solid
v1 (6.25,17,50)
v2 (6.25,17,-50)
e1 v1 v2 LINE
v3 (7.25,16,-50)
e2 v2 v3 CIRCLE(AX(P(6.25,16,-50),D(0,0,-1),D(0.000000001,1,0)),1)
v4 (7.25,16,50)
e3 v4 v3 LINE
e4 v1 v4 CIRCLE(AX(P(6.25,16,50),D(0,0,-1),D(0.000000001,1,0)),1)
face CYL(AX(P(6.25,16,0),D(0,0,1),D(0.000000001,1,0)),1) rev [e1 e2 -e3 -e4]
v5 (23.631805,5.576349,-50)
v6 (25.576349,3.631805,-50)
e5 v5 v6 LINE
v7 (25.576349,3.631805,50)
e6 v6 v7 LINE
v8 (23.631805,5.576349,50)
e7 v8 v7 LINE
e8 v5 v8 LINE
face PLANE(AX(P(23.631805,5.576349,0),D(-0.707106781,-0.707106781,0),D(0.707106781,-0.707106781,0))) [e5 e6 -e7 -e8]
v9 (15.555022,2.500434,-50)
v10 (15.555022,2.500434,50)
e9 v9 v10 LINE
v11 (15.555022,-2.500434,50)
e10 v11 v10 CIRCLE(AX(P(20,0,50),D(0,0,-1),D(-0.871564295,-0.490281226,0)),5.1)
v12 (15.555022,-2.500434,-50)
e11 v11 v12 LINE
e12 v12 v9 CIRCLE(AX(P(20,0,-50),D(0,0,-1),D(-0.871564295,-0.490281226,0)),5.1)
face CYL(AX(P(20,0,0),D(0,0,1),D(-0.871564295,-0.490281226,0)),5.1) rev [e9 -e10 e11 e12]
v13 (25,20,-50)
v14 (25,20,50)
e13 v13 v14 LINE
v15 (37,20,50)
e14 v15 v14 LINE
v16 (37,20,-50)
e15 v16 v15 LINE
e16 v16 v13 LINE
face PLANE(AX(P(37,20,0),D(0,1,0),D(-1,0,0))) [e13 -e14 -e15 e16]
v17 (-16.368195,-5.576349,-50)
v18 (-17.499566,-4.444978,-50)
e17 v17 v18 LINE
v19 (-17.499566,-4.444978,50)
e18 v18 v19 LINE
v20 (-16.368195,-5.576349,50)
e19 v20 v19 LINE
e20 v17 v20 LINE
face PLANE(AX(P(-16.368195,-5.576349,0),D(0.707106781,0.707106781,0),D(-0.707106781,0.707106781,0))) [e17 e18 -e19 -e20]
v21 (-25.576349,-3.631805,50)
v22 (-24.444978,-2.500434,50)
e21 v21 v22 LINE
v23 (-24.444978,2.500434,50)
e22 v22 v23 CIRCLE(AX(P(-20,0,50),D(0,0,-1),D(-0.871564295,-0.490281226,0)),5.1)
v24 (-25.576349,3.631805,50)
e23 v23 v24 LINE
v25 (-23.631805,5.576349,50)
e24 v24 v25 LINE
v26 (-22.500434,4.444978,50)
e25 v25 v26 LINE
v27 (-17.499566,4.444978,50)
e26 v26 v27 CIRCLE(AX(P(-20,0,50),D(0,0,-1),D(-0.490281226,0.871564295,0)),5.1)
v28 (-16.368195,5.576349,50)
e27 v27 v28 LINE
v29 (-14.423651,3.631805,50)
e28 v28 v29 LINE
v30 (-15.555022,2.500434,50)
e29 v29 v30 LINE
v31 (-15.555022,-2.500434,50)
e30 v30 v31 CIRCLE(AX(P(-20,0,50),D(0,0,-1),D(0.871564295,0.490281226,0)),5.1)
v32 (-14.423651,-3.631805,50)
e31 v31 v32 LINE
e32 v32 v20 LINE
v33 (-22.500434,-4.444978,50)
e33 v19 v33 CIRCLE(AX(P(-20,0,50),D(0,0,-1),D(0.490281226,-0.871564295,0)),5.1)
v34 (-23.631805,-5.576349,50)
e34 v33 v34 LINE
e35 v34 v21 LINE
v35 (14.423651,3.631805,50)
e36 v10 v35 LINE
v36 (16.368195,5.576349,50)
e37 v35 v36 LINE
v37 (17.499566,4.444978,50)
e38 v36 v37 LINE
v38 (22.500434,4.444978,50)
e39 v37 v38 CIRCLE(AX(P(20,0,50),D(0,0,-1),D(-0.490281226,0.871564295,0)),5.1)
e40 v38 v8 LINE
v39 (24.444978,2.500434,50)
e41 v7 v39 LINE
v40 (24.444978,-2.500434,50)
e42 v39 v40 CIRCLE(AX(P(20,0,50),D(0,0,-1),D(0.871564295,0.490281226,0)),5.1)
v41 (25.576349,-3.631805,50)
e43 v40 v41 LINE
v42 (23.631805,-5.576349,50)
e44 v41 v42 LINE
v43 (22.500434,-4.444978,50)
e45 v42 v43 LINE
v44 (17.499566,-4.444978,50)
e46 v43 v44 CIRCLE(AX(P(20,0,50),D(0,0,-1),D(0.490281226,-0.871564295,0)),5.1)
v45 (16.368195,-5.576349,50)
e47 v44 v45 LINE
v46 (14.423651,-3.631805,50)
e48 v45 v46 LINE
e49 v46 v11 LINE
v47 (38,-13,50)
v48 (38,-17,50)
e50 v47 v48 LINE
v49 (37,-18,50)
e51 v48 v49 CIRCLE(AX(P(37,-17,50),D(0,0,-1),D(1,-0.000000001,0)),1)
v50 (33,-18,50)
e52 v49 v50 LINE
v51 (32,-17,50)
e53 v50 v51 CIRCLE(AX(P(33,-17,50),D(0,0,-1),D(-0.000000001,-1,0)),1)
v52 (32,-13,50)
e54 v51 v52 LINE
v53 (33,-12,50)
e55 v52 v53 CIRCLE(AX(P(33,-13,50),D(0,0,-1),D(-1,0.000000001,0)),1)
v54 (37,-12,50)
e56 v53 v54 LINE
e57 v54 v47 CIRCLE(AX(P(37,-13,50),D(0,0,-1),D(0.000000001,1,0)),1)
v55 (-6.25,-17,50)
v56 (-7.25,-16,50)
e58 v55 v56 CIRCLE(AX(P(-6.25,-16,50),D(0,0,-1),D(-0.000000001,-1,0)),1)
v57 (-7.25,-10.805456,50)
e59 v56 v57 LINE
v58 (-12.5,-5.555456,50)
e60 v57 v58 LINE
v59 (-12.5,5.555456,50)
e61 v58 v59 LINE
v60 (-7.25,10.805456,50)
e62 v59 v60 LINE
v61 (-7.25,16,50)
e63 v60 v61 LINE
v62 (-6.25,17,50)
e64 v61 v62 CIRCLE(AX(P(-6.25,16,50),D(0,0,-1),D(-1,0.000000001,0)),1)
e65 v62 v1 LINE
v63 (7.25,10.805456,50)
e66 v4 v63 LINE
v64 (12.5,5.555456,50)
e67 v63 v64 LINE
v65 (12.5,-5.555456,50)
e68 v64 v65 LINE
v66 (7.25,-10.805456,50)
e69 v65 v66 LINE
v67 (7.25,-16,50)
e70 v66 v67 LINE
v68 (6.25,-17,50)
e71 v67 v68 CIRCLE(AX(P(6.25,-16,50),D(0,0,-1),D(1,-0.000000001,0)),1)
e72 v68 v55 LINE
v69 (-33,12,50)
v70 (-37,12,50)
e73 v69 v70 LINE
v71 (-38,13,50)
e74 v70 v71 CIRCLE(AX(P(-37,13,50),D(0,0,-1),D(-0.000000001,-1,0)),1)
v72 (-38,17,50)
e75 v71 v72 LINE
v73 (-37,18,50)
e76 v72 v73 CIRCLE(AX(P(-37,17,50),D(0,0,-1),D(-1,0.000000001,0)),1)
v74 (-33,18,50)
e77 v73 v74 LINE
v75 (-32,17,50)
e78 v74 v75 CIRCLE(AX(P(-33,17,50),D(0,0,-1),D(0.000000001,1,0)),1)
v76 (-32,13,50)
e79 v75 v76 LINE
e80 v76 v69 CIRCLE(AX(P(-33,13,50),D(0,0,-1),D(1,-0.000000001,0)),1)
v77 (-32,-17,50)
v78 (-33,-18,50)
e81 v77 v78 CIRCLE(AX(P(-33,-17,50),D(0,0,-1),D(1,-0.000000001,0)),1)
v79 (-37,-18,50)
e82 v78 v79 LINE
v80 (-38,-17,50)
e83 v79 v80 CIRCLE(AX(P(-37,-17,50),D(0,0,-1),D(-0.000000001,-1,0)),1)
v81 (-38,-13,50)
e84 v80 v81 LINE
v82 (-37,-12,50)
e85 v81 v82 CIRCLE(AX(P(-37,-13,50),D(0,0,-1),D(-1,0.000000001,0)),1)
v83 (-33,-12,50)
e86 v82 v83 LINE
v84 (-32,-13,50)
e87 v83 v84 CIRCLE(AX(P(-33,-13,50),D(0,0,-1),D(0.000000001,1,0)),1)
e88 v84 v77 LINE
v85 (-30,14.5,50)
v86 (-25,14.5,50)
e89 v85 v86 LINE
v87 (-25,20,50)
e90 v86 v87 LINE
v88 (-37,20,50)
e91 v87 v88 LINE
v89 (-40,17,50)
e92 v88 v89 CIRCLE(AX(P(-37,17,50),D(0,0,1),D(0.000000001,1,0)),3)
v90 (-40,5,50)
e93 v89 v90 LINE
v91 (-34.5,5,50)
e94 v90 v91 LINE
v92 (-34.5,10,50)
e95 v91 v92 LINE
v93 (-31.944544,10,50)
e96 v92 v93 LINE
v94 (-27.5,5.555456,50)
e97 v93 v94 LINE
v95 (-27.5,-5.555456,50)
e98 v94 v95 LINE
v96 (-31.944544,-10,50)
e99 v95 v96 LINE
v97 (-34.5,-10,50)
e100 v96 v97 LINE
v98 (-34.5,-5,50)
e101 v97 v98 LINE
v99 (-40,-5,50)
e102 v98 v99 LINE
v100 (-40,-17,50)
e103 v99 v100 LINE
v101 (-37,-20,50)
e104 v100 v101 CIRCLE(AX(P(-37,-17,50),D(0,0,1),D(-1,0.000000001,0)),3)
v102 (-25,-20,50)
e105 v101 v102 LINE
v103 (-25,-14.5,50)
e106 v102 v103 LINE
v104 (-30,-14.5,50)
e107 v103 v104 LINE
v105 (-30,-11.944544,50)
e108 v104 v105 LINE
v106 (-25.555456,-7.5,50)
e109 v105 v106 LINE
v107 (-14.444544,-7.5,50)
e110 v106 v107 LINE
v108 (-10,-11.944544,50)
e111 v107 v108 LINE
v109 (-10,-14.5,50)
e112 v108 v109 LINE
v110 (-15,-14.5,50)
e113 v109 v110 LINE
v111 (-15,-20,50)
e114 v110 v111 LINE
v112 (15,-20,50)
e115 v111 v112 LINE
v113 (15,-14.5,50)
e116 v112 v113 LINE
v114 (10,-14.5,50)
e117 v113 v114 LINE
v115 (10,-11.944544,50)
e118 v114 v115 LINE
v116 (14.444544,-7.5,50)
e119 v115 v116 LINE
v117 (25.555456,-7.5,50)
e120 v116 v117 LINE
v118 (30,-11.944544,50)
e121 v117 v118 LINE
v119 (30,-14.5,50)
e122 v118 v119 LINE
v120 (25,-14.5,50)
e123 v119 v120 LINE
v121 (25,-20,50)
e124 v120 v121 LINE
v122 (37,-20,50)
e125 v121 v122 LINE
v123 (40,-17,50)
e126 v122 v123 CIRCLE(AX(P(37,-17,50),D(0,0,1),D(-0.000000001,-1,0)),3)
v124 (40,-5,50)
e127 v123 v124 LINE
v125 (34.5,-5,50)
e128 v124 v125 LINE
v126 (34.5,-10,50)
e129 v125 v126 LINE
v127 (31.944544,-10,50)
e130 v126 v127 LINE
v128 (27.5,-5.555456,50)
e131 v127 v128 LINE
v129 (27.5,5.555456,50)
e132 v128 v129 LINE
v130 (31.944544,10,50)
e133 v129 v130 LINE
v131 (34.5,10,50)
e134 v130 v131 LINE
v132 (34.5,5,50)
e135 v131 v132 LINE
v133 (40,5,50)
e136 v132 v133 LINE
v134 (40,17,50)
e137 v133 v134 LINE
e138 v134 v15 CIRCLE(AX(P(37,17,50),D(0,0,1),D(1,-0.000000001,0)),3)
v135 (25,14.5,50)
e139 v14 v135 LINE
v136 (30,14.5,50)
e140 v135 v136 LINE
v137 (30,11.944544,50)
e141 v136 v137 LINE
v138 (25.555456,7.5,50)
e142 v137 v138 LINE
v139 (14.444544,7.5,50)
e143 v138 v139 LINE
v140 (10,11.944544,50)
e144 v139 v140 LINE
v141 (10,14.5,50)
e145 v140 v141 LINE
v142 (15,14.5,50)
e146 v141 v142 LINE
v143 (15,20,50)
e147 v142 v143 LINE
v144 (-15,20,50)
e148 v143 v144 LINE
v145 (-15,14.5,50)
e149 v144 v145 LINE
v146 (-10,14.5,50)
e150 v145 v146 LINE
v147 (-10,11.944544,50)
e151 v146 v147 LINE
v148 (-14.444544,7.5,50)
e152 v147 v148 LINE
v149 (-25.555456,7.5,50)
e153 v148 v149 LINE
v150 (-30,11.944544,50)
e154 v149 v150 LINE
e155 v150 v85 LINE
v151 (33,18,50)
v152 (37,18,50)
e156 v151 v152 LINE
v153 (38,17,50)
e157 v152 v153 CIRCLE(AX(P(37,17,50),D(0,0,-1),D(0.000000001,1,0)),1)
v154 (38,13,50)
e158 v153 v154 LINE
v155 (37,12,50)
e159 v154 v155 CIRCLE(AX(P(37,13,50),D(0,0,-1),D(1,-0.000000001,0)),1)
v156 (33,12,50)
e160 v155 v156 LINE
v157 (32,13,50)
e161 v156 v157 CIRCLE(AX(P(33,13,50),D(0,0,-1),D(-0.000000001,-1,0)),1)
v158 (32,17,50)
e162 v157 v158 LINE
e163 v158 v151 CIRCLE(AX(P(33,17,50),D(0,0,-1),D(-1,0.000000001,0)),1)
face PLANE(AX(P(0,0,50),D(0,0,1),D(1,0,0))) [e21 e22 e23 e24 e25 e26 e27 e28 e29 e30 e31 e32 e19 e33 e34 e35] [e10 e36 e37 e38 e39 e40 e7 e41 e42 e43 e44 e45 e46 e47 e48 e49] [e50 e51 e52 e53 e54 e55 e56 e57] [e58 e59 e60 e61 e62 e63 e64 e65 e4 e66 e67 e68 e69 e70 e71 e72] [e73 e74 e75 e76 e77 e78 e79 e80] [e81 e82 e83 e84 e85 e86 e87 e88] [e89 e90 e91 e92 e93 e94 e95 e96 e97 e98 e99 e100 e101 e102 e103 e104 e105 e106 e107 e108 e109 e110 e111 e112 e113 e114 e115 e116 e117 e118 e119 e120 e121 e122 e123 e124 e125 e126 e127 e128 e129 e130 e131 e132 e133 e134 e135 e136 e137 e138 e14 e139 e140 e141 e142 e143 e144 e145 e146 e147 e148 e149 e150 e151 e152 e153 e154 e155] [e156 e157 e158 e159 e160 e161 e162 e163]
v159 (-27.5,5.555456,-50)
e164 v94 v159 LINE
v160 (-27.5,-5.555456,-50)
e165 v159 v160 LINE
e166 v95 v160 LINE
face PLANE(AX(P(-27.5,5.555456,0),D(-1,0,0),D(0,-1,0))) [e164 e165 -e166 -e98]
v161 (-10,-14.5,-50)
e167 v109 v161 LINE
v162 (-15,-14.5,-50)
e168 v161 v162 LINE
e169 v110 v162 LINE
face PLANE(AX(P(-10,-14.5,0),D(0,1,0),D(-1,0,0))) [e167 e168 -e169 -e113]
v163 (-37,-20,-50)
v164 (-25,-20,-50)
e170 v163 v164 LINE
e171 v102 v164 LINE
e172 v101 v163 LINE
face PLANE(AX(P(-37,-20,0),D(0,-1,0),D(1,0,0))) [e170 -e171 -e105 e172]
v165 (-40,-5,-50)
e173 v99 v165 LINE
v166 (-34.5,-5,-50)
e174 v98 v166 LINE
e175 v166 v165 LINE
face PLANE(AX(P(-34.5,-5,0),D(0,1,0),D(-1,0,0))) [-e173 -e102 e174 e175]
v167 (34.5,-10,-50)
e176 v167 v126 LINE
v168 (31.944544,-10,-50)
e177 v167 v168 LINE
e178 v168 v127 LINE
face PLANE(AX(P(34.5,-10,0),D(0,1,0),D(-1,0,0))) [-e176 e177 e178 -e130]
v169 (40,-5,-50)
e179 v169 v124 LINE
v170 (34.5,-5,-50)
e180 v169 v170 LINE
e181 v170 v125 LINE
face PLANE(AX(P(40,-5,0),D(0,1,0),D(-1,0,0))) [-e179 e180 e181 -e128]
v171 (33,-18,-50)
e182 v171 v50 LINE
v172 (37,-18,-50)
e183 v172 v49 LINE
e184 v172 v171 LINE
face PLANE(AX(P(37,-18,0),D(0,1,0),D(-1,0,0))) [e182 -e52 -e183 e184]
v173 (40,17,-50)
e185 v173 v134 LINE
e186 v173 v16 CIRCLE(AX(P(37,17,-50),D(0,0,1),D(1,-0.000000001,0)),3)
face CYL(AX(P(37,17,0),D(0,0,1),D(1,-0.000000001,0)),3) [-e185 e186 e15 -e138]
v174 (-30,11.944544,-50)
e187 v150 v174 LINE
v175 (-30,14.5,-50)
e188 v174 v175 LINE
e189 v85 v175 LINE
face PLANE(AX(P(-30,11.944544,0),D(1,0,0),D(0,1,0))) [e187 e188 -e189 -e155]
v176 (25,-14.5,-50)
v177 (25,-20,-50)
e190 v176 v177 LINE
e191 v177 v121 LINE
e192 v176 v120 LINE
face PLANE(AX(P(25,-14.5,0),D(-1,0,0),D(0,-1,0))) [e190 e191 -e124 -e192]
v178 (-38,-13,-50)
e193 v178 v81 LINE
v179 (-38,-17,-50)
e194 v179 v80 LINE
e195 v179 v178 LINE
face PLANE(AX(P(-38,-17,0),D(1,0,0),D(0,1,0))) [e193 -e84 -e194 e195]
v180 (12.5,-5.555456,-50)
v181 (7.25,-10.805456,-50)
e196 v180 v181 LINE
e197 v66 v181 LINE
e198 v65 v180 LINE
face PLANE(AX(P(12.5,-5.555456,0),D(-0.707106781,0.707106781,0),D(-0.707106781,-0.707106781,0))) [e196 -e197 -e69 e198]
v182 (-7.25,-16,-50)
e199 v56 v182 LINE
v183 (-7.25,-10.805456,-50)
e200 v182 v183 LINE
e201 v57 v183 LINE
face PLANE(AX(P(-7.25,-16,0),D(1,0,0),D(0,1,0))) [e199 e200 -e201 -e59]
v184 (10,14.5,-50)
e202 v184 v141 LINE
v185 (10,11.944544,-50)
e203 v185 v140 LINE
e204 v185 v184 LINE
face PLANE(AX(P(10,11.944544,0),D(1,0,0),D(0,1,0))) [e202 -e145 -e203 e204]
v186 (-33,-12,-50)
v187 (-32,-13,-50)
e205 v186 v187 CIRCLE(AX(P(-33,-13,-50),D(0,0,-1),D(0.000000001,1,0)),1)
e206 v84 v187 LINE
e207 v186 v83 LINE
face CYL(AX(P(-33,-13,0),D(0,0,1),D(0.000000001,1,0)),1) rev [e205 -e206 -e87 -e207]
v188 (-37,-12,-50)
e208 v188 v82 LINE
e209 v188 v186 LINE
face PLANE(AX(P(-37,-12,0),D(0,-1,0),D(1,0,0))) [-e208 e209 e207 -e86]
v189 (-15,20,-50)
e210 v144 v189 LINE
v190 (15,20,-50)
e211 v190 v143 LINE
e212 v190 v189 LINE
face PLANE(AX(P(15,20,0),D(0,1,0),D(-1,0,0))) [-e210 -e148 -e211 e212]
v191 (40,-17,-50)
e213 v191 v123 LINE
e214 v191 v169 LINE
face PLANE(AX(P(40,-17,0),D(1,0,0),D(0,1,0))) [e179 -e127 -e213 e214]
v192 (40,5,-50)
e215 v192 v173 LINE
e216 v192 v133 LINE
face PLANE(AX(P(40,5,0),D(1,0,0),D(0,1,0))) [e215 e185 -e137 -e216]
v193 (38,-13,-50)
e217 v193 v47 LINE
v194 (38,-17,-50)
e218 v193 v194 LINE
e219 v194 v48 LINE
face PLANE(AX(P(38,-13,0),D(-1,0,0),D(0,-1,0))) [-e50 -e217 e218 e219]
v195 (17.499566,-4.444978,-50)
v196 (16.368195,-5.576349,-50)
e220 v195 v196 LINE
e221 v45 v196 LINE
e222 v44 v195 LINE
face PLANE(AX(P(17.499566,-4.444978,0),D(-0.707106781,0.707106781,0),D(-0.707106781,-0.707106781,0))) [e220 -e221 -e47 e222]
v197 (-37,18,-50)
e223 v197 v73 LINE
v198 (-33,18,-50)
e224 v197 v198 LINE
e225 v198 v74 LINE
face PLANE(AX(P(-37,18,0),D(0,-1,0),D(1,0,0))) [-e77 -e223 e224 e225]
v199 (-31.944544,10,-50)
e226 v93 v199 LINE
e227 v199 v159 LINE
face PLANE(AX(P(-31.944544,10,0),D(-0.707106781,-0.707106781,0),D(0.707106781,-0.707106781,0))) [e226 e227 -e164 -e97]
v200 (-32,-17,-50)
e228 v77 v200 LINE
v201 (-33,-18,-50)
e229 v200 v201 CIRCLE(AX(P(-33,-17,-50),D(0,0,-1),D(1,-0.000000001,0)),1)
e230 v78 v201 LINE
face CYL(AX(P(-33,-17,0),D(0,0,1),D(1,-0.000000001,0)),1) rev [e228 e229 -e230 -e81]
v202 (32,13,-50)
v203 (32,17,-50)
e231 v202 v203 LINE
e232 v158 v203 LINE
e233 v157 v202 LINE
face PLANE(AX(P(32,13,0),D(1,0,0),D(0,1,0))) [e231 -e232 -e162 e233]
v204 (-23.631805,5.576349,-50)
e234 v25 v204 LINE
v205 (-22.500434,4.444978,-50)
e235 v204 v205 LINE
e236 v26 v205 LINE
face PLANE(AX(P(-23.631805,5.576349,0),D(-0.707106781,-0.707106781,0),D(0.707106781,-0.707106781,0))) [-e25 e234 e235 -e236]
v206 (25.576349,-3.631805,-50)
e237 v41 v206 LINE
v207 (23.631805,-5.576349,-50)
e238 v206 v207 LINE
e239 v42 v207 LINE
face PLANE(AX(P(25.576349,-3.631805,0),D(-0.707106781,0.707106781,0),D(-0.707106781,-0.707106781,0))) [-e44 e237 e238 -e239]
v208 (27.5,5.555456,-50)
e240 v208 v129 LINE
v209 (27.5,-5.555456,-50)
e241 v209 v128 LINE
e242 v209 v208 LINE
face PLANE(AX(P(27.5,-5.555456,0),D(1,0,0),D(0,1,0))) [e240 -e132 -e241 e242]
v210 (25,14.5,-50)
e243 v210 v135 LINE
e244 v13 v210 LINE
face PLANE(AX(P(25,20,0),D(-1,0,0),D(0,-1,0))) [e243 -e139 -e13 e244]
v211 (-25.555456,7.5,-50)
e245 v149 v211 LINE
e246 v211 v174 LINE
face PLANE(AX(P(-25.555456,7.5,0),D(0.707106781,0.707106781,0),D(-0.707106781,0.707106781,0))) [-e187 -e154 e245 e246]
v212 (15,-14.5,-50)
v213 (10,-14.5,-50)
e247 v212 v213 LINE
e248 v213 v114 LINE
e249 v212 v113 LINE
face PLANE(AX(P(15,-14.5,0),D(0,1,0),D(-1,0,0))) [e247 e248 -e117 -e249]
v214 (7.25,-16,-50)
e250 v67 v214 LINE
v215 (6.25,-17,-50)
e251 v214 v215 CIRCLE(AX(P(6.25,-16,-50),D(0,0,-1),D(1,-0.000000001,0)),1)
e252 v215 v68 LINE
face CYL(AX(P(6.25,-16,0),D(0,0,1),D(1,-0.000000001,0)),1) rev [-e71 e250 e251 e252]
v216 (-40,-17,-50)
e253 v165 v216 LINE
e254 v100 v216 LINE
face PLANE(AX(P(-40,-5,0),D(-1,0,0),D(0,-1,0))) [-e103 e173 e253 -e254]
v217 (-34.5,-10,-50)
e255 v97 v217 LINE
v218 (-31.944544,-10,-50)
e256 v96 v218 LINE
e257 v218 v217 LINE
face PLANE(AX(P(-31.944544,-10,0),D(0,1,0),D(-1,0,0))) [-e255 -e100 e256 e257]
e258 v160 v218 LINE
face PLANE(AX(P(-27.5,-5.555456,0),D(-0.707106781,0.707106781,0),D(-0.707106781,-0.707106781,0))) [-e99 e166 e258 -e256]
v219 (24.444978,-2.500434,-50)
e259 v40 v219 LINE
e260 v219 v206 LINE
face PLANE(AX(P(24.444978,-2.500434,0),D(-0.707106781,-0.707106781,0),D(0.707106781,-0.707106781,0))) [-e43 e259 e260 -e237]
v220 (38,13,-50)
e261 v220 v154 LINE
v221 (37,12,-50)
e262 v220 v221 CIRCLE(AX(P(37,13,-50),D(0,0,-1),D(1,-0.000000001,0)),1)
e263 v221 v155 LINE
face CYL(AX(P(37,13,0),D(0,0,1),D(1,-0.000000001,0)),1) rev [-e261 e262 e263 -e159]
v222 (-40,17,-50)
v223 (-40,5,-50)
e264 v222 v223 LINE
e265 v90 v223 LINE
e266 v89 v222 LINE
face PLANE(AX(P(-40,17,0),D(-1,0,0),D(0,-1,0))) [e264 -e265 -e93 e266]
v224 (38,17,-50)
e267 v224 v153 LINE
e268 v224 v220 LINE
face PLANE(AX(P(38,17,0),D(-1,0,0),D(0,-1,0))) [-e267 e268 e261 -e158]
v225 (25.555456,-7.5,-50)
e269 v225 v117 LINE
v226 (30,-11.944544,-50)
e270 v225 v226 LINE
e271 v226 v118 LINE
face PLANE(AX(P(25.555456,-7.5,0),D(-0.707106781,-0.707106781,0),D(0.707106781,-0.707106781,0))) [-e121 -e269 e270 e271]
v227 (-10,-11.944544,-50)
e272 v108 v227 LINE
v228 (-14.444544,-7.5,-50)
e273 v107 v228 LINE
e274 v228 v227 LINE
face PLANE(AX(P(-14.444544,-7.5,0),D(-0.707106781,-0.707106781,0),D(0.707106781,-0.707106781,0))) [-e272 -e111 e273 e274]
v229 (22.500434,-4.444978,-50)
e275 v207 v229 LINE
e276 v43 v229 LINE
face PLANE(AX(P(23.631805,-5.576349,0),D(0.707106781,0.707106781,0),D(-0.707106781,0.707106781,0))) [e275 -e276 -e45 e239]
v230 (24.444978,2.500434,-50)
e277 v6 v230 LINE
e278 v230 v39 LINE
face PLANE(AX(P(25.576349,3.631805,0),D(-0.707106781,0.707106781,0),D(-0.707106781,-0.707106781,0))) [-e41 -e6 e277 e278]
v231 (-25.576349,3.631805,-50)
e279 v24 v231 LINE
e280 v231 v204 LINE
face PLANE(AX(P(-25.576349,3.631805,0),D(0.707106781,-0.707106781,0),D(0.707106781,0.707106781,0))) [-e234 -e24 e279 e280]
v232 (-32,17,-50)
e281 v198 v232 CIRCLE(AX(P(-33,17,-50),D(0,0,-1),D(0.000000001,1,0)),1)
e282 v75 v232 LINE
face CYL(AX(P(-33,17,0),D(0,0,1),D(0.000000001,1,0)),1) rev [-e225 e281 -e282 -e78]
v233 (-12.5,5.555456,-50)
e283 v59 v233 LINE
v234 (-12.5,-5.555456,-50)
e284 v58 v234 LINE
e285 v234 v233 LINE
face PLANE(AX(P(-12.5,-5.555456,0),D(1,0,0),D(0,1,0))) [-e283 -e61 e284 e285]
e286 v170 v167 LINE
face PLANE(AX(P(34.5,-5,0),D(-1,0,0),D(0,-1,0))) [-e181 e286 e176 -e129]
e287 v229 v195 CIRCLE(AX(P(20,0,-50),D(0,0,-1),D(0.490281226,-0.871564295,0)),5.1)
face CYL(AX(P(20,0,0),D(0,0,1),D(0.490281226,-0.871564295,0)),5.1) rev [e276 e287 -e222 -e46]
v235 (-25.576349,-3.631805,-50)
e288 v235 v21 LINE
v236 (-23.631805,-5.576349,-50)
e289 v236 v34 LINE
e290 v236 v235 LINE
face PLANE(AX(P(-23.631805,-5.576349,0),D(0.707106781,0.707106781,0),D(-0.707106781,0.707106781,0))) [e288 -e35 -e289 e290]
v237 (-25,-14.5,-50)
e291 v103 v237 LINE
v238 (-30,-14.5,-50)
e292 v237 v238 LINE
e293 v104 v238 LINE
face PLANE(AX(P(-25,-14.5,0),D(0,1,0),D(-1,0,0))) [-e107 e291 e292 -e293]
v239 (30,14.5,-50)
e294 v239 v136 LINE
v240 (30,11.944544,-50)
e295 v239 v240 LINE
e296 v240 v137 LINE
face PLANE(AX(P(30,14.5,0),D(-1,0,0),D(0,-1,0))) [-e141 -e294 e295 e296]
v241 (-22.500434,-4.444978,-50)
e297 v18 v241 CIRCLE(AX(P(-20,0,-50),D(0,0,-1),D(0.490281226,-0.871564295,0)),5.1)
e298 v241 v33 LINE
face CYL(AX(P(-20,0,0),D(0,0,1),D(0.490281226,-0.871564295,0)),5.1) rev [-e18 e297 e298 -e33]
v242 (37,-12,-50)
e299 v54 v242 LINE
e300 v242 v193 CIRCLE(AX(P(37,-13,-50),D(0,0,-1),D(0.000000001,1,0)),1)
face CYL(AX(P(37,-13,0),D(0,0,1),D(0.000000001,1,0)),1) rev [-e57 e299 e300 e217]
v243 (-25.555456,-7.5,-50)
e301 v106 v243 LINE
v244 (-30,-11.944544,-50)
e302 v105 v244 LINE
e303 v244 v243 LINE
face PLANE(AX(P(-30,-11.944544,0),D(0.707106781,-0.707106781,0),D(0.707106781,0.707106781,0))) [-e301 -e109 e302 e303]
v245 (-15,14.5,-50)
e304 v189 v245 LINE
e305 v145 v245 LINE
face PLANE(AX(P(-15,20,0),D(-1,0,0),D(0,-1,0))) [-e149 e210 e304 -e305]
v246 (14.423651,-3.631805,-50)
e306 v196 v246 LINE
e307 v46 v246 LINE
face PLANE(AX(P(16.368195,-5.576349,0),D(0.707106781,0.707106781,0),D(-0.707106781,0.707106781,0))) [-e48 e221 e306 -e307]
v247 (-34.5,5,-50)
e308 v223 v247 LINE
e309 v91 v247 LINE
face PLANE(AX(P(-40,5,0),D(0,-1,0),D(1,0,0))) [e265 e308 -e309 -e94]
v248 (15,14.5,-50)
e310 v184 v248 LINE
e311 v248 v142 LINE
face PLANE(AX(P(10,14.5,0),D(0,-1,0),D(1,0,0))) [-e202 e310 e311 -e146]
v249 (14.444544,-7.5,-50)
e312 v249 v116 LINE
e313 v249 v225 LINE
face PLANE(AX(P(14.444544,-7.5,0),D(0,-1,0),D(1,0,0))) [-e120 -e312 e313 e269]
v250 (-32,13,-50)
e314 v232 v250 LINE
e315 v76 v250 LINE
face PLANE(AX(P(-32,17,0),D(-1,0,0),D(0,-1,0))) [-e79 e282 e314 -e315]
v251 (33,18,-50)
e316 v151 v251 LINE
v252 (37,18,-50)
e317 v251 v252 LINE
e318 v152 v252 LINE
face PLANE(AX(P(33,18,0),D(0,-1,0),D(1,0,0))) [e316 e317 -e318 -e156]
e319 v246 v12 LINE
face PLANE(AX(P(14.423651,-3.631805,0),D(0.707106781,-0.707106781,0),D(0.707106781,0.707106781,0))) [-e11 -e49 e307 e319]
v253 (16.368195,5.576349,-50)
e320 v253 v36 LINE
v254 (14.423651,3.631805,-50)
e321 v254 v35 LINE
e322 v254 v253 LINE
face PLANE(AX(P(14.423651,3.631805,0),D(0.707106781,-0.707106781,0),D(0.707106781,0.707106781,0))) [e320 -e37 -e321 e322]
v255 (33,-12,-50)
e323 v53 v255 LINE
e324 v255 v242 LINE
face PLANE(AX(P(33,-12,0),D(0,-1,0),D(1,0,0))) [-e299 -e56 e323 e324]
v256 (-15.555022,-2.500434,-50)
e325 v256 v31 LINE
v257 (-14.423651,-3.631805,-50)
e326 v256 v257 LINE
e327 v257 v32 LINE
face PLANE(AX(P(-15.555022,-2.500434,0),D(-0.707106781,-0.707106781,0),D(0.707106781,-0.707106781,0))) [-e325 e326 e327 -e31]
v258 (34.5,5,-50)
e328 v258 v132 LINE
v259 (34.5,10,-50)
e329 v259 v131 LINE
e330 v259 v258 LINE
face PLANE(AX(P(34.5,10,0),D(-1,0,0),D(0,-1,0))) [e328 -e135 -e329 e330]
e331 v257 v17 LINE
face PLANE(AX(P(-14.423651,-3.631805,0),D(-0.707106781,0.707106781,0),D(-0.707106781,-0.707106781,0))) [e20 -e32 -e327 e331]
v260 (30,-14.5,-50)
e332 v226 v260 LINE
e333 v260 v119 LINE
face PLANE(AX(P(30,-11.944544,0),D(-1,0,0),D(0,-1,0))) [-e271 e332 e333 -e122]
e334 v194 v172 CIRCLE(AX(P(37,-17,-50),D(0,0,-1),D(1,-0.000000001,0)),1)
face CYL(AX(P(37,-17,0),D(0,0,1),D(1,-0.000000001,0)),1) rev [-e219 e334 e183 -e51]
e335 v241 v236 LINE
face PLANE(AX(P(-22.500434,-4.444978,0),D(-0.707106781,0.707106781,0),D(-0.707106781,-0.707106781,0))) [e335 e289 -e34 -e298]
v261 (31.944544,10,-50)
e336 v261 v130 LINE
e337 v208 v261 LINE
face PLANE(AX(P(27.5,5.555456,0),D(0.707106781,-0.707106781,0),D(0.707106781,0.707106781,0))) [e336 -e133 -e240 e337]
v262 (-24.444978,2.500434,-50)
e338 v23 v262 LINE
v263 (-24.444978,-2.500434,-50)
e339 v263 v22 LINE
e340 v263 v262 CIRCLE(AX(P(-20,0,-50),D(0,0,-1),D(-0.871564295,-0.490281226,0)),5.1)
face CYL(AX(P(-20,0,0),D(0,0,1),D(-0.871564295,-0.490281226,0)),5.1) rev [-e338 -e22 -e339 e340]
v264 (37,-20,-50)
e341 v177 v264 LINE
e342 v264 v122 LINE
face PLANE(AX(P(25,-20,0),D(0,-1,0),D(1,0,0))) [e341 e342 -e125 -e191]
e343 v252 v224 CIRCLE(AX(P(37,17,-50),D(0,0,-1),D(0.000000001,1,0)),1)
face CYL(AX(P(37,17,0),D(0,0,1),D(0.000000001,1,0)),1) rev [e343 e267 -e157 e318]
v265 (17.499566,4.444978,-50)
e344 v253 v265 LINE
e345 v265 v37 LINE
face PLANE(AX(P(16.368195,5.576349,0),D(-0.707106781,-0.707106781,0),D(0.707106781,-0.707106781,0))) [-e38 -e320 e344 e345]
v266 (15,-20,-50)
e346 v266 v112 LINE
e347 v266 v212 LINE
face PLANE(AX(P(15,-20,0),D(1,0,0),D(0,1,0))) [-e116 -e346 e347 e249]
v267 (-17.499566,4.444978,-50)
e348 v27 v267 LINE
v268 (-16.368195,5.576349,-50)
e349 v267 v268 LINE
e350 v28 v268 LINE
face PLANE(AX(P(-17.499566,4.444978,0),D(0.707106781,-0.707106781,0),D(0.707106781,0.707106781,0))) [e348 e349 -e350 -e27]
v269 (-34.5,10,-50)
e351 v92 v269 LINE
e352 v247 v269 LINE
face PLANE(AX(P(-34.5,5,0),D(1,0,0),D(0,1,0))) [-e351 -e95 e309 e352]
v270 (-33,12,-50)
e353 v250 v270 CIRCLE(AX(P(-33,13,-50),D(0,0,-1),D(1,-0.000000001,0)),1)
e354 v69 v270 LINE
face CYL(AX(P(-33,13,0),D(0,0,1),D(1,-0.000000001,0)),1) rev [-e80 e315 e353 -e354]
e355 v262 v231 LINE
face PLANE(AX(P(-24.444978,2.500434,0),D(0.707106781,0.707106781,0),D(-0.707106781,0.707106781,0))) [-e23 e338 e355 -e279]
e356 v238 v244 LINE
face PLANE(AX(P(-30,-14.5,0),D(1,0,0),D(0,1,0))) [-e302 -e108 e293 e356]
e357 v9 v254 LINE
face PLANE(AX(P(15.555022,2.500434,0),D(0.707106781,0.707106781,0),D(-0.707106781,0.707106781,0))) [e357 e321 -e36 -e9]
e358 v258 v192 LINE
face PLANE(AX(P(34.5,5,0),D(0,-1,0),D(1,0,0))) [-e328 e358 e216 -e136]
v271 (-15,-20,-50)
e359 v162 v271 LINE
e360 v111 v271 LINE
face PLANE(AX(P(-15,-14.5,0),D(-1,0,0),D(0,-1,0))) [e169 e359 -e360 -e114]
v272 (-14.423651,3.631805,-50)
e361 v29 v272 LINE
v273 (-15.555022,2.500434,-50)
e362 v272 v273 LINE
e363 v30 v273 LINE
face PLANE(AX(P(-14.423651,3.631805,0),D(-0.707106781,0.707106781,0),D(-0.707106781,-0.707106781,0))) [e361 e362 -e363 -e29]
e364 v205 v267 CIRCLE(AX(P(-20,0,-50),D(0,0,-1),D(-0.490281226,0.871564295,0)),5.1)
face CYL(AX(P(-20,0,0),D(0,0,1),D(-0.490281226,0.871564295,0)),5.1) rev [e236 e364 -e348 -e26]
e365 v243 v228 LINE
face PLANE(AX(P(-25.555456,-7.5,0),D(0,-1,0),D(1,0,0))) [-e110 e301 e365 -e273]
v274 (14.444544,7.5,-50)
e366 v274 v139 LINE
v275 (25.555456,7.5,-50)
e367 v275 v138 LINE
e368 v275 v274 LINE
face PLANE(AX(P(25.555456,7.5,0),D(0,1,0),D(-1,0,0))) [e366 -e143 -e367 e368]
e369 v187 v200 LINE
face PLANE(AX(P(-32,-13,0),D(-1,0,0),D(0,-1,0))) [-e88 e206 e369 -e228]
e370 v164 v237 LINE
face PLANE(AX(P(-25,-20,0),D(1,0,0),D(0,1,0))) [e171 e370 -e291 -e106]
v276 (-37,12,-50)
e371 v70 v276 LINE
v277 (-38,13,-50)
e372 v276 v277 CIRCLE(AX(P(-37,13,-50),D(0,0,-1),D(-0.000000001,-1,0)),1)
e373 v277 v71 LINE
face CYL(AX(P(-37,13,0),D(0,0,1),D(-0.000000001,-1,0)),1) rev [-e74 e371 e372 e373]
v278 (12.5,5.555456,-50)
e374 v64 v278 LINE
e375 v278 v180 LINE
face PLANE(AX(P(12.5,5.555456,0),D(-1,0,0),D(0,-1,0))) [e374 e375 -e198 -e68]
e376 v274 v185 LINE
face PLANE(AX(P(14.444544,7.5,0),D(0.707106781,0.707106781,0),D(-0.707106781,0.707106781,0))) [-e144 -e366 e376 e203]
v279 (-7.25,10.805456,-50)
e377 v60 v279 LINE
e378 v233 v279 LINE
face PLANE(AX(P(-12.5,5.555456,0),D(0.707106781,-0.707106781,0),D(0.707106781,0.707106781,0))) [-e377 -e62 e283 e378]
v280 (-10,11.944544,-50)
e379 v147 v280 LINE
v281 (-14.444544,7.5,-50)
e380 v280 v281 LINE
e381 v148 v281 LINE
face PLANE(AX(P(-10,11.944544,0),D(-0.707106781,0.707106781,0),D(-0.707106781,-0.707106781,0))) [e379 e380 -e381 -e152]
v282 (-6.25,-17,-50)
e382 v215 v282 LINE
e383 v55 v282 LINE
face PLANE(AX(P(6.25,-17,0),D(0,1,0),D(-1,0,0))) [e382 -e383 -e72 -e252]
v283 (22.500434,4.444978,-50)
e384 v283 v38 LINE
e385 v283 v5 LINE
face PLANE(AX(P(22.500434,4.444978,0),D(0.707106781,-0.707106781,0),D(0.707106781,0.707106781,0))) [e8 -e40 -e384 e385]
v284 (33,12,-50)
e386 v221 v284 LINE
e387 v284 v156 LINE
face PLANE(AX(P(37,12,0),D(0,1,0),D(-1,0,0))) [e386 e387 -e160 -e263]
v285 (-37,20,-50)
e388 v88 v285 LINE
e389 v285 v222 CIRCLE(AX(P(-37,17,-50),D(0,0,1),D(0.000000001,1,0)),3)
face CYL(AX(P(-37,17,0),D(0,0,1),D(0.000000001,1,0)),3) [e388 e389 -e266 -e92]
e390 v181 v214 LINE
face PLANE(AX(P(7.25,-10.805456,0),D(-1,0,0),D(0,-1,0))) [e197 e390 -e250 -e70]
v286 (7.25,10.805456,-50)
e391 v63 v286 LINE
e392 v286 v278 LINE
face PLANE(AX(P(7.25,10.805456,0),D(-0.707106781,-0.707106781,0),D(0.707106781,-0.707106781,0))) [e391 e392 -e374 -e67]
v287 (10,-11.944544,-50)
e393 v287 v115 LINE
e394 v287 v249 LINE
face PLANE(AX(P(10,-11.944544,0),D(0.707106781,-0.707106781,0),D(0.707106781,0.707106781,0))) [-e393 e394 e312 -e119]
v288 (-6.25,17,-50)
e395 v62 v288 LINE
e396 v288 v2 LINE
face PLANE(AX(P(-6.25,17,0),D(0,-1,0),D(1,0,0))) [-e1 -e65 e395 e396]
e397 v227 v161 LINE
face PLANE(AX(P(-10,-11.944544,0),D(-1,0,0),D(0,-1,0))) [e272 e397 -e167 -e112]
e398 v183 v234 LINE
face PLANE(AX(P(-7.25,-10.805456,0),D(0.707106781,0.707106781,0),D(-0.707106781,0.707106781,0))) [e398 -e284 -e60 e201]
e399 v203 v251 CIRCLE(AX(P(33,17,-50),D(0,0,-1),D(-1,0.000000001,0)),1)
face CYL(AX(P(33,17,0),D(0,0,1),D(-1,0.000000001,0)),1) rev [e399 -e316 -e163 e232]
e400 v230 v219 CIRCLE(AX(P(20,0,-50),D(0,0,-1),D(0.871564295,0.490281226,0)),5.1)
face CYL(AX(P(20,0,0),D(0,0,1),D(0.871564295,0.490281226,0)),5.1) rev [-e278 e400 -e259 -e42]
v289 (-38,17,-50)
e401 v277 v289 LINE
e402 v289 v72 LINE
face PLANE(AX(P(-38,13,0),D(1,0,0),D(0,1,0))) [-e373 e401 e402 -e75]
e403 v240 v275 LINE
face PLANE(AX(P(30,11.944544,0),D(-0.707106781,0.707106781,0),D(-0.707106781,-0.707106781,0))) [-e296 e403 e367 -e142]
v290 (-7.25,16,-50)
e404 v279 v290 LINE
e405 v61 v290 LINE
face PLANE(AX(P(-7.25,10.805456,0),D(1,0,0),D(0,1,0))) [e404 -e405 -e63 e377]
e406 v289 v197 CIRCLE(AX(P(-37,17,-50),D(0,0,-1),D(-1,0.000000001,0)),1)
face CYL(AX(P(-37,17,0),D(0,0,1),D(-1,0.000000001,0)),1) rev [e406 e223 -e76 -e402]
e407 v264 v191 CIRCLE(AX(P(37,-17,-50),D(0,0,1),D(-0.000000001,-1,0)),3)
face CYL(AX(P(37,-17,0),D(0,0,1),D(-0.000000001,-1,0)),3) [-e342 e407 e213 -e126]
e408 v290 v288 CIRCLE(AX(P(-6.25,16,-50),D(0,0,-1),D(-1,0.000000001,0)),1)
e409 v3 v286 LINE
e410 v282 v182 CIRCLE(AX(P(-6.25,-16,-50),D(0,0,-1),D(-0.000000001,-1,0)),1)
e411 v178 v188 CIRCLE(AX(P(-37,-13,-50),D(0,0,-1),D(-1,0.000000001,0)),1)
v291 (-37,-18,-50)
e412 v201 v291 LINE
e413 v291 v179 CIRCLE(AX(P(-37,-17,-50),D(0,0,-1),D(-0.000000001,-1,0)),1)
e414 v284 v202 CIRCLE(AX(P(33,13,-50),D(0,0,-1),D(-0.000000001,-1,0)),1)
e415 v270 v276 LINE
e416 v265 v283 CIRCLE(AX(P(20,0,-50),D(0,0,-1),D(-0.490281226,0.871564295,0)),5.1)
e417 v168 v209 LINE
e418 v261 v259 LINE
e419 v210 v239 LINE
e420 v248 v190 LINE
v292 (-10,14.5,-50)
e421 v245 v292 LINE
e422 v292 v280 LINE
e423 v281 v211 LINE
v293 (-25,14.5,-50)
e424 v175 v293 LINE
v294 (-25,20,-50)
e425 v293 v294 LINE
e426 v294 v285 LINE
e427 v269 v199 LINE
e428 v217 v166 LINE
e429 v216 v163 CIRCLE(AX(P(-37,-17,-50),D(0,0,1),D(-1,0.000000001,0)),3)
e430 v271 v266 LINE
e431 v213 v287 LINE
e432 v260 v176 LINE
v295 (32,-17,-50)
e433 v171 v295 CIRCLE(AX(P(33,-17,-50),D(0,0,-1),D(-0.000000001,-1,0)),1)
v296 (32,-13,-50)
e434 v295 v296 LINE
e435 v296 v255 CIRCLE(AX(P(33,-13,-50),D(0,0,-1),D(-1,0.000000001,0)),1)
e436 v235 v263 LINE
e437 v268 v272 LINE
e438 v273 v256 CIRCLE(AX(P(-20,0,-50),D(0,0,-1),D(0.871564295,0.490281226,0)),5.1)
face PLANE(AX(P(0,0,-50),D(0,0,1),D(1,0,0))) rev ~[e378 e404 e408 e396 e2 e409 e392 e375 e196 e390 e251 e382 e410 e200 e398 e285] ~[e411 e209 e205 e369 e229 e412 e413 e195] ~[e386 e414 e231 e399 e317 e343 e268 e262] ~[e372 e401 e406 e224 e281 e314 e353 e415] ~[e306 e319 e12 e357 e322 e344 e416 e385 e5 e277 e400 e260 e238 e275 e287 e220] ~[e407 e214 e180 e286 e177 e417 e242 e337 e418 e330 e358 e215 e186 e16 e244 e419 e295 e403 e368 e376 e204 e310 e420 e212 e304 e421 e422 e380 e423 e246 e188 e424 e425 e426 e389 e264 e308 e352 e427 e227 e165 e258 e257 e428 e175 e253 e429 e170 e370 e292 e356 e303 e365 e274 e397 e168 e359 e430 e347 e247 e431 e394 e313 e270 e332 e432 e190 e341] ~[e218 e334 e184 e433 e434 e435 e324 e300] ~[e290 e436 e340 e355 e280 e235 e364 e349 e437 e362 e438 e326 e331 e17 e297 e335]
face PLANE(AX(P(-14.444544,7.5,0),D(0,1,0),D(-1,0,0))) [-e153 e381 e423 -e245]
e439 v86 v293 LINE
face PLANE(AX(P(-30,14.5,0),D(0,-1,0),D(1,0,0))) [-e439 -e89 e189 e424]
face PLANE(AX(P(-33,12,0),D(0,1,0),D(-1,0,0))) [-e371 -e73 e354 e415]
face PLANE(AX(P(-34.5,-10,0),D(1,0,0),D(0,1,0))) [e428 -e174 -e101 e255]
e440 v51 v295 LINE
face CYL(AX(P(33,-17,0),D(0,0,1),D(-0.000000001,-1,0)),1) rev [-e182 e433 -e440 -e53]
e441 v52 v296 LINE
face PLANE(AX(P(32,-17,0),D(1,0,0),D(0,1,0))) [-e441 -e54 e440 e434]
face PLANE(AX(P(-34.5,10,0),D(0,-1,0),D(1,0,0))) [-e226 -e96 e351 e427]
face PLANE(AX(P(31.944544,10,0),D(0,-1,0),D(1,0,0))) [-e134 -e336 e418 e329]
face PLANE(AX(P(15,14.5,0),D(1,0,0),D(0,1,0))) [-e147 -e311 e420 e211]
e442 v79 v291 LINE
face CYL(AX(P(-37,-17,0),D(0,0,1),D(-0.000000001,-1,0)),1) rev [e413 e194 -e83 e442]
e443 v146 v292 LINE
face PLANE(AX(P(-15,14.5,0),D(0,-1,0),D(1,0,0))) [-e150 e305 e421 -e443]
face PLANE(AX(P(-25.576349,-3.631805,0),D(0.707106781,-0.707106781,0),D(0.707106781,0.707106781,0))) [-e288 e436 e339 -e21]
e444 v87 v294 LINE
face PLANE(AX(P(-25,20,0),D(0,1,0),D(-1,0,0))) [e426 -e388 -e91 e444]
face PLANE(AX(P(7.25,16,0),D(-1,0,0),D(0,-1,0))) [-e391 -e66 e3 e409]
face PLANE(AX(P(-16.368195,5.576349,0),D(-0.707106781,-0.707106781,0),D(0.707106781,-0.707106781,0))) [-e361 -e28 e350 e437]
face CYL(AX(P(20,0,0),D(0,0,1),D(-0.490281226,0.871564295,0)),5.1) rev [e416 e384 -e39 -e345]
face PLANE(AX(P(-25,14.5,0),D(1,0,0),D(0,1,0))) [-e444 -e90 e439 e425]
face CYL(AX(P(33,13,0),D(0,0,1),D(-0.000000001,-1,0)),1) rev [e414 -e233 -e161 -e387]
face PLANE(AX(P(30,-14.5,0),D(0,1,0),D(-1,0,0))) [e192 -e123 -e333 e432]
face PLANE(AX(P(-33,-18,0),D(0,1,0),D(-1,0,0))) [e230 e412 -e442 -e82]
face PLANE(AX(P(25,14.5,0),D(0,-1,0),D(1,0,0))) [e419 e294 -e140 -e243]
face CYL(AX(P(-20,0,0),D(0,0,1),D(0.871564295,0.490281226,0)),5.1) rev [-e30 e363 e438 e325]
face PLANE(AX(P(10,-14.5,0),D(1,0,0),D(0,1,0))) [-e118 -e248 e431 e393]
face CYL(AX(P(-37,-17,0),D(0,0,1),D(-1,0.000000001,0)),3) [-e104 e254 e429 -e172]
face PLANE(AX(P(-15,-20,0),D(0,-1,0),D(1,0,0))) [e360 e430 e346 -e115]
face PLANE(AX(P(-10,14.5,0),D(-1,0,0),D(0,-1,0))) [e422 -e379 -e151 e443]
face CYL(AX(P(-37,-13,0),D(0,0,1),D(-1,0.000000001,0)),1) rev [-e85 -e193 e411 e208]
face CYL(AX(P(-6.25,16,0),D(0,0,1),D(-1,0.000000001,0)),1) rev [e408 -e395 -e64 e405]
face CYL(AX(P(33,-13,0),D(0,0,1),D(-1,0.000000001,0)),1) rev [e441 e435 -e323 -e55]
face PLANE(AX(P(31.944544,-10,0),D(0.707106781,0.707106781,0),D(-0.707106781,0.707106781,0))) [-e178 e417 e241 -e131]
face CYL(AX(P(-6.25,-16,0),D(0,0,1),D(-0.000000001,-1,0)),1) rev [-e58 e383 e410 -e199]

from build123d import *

# Parameters (mm, degrees)
BOSS_EXTRUDE1_DEPTH = 50


with BuildPart() as part:
    # Sketch1 → Boss-Extrude1 (new, symmetric)
    with BuildSketch(Plane.XY):
        with BuildLine():
            Line((-15, -20), (15, -20))
            Line((15, -20), (15, -14.5))
            Line((15, -14.5), (10, -14.5))
            Line((10, -14.5), (10, -11.944543648))
            Line((10, -11.944543648), (14.444543648, -7.5))
            Line((14.444543648, -7.5), (25.555456352, -7.5))
            Line((25.555456352, -7.5), (30, -11.944543648))
            Line((30, -11.944543648), (30, -14.5))
            Line((30, -14.5), (25, -14.5))
            Line((25, -14.5), (25, -20))
            Line((25, -20), (37, -20))
            ThreePointArc((37, -20), (39.121320344, -19.121320344), (40, -17))
            Line((40, -17), (40, -5))
            Line((40, -5), (34.5, -5))
            Line((34.5, -5), (34.5, -10))
            Line((34.5, -10), (31.944543648, -10))
            Line((31.944543648, -10), (27.5, -5.555456352))
            Line((27.5, -5.555456352), (27.5, 5.555456352))
            Line((27.5, 5.555456352), (31.944543648, 10))
            Line((31.944543648, 10), (34.5, 10))
            Line((34.5, 10), (34.5, 5))
            Line((34.5, 5), (40, 5))
            Line((40, 5), (40, 17))
            ThreePointArc((40, 17), (39.121320344, 19.121320344), (37, 20))
            Line((37, 20), (25, 20))
            Line((25, 20), (25, 14.5))
            Line((25, 14.5), (30, 14.5))
            Line((30, 14.5), (30, 11.944543648))
            Line((30, 11.944543648), (25.555456352, 7.5))
            Line((25.555456352, 7.5), (14.444543648, 7.5))
            Line((14.444543648, 7.5), (10, 11.944543648))
            Line((10, 11.944543648), (10, 14.5))
            Line((10, 14.5), (15, 14.5))
            Line((15, 14.5), (15, 20))
            Line((15, 20), (-15, 20))
            Line((-15, 20), (-15, 14.5))
            Line((-15, 14.5), (-10, 14.5))
            Line((-10, 14.5), (-10, 11.944543648))
            Line((-10, 11.944543648), (-14.444543648, 7.5))
            Line((-14.444543648, 7.5), (-25.555456352, 7.5))
            Line((-25.555456352, 7.5), (-30, 11.944543648))
            Line((-30, 11.944543648), (-30, 14.5))
            Line((-30, 14.5), (-25, 14.5))
            Line((-25, 14.5), (-25, 20))
            Line((-25, 20), (-37, 20))
            ThreePointArc((-37, 20), (-39.121320344, 19.121320344), (-40, 17))
            Line((-40, 17), (-40, 5))
            Line((-40, 5), (-34.5, 5))
            Line((-34.5, 5), (-34.5, 10))
            Line((-34.5, 10), (-31.944543648, 10))
            Line((-31.944543648, 10), (-27.5, 5.555456352))
            Line((-27.5, 5.555456352), (-27.5, -5.555456352))
            Line((-27.5, -5.555456352), (-31.944543648, -10))
            Line((-31.944543648, -10), (-34.5, -10))
            Line((-34.5, -10), (-34.5, -5))
            Line((-34.5, -5), (-40, -5))
            Line((-40, -5), (-40, -17))
            ThreePointArc((-40, -17), (-39.121320344, -19.121320344), (-37, -20))
            Line((-37, -20), (-25, -20))
            Line((-25, -20), (-25, -14.5))
            Line((-25, -14.5), (-30, -14.5))
            Line((-30, -14.5), (-30, -11.944543648))
            Line((-30, -11.944543648), (-25.555456352, -7.5))
            Line((-25.555456352, -7.5), (-14.444543648, -7.5))
            Line((-14.444543648, -7.5), (-10, -11.944543648))
            Line((-10, -11.944543648), (-10, -14.5))
            Line((-10, -14.5), (-15, -14.5))
            Line((-15, -14.5), (-15, -20))
        make_face()
        with BuildLine():
            Line((-38, 13), (-38, 17))
            ThreePointArc((-38, 17), (-37.707106781, 17.707106781), (-37, 18))
            Line((-37, 18), (-33, 18))
            ThreePointArc((-33, 18), (-32.292893219, 17.707106781), (-32, 17))
            Line((-32, 17), (-32, 13))
            ThreePointArc((-32, 13), (-32.292893219, 12.292893219), (-33, 12))
            Line((-33, 12), (-37, 12))
            ThreePointArc((-37, 12), (-37.707106781, 12.292893219), (-38, 13))
        make_face(mode=Mode.SUBTRACT)
        with BuildLine():
            Line((-15.555022098, -2.500434253), (-14.423651249, -3.631805103))
            Line((-14.423651249, -3.631805103), (-16.368194897, -5.576348751))
            Line((-16.368194897, -5.576348751), (-17.499565747, -4.444977902))
            ThreePointArc((-17.499565747, -4.444977902), (-20, -5.1), (-22.500434253, -4.444977902))
            Line((-22.500434253, -4.444977902), (-23.631805103, -5.576348751))
            Line((-23.631805103, -5.576348751), (-25.576348751, -3.631805103))
            Line((-25.576348751, -3.631805103), (-24.444977902, -2.500434253))
            ThreePointArc((-24.444977902, -2.500434253), (-25.1, 0), (-24.444977902, 2.500434253))
            Line((-24.444977902, 2.500434253), (-25.576348751, 3.631805103))
            Line((-25.576348751, 3.631805103), (-23.631805103, 5.576348751))
            Line((-23.631805103, 5.576348751), (-22.500434253, 4.444977902))
            ThreePointArc((-22.500434253, 4.444977902), (-20, 5.1), (-17.499565747, 4.444977902))
            Line((-17.499565747, 4.444977902), (-16.368194897, 5.576348751))
            Line((-16.368194897, 5.576348751), (-14.423651249, 3.631805103))
            Line((-14.423651249, 3.631805103), (-15.555022098, 2.500434253))
            ThreePointArc((-15.555022098, 2.500434253), (-14.9, 0), (-15.555022098, -2.500434253))
        make_face(mode=Mode.SUBTRACT)
        with BuildLine():
            Line((-38, -17), (-38, -13))
            ThreePointArc((-38, -13), (-37.707106781, -12.292893219), (-37, -12))
            Line((-37, -12), (-33, -12))
            ThreePointArc((-33, -12), (-32.292893219, -12.292893219), (-32, -13))
            Line((-32, -13), (-32, -17))
            ThreePointArc((-32, -17), (-32.292893219, -17.707106781), (-33, -18))
            Line((-33, -18), (-37, -18))
            ThreePointArc((-37, -18), (-37.707106781, -17.707106781), (-38, -17))
        make_face(mode=Mode.SUBTRACT)
        with BuildLine():
            Line((38, -13), (38, -17))
            ThreePointArc((38, -17), (37.707106781, -17.707106781), (37, -18))
            Line((37, -18), (33, -18))
            ThreePointArc((33, -18), (32.292893219, -17.707106781), (32, -17))
            Line((32, -17), (32, -13))
            ThreePointArc((32, -13), (32.292893219, -12.292893219), (33, -12))
            Line((33, -12), (37, -12))
            ThreePointArc((37, -12), (37.707106781, -12.292893219), (38, -13))
        make_face(mode=Mode.SUBTRACT)
        with BuildLine():
            Line((15.555022098, 2.500434253), (14.423651249, 3.631805103))
            Line((14.423651249, 3.631805103), (16.368194897, 5.576348751))
            Line((16.368194897, 5.576348751), (17.499565747, 4.444977902))
            ThreePointArc((17.499565747, 4.444977902), (20, 5.1), (22.500434253, 4.444977902))
            Line((22.500434253, 4.444977902), (23.631805103, 5.576348751))
            Line((23.631805103, 5.576348751), (25.576348751, 3.631805103))
            Line((25.576348751, 3.631805103), (24.444977902, 2.500434253))
            ThreePointArc((24.444977902, 2.500434253), (25.1, 0), (24.444977902, -2.500434253))
            Line((24.444977902, -2.500434253), (25.576348751, -3.631805103))
            Line((25.576348751, -3.631805103), (23.631805103, -5.576348751))
            Line((23.631805103, -5.576348751), (22.500434253, -4.444977902))
            ThreePointArc((22.500434253, -4.444977902), (20, -5.1), (17.499565747, -4.444977902))
            Line((17.499565747, -4.444977902), (16.368194897, -5.576348751))
            Line((16.368194897, -5.576348751), (14.423651249, -3.631805103))
            Line((14.423651249, -3.631805103), (15.555022098, -2.500434253))
            ThreePointArc((15.555022098, -2.500434253), (14.9, 0), (15.555022098, 2.500434253))
        make_face(mode=Mode.SUBTRACT)
        with BuildLine():
            Line((38, 17), (38, 13))
            ThreePointArc((38, 13), (37.707106781, 12.292893219), (37, 12))
            Line((37, 12), (33, 12))
            ThreePointArc((33, 12), (32.292893219, 12.292893219), (32, 13))
            Line((32, 13), (32, 17))
            ThreePointArc((32, 17), (32.292893219, 17.707106781), (33, 18))
            Line((33, 18), (37, 18))
            ThreePointArc((37, 18), (37.707106781, 17.707106781), (38, 17))
        make_face(mode=Mode.SUBTRACT)
        with BuildLine():
            Line((6.25, -17), (-6.25, -17))
            ThreePointArc((-6.25, -17), (-6.957106781, -16.707106781), (-7.25, -16))
            Line((-7.25, -16), (-7.25, -10.805456352))
            Line((-7.25, -10.805456352), (-12.5, -5.555456352))
            Line((-12.5, -5.555456352), (-12.5, 5.555456352))
            Line((-12.5, 5.555456352), (-7.25, 10.805456352))
            Line((-7.25, 10.805456352), (-7.25, 16))
            ThreePointArc((-7.25, 16), (-6.957106781, 16.707106781), (-6.25, 17))
            Line((-6.25, 17), (6.25, 17))
            ThreePointArc((6.25, 17), (6.957106781, 16.707106781), (7.25, 16))
            Line((7.25, 16), (7.25, 10.805456352))
            Line((7.25, 10.805456352), (12.5, 5.555456352))
            Line((12.5, 5.555456352), (12.5, -5.555456352))
            Line((12.5, -5.555456352), (7.25, -10.805456352))
            Line((7.25, -10.805456352), (7.25, -16))
            ThreePointArc((7.25, -16), (6.957106781, -16.707106781), (6.25, -17))
        make_face(mode=Mode.SUBTRACT)
    extrude(amount=BOSS_EXTRUDE1_DEPTH, both=True)


solid = part.part
